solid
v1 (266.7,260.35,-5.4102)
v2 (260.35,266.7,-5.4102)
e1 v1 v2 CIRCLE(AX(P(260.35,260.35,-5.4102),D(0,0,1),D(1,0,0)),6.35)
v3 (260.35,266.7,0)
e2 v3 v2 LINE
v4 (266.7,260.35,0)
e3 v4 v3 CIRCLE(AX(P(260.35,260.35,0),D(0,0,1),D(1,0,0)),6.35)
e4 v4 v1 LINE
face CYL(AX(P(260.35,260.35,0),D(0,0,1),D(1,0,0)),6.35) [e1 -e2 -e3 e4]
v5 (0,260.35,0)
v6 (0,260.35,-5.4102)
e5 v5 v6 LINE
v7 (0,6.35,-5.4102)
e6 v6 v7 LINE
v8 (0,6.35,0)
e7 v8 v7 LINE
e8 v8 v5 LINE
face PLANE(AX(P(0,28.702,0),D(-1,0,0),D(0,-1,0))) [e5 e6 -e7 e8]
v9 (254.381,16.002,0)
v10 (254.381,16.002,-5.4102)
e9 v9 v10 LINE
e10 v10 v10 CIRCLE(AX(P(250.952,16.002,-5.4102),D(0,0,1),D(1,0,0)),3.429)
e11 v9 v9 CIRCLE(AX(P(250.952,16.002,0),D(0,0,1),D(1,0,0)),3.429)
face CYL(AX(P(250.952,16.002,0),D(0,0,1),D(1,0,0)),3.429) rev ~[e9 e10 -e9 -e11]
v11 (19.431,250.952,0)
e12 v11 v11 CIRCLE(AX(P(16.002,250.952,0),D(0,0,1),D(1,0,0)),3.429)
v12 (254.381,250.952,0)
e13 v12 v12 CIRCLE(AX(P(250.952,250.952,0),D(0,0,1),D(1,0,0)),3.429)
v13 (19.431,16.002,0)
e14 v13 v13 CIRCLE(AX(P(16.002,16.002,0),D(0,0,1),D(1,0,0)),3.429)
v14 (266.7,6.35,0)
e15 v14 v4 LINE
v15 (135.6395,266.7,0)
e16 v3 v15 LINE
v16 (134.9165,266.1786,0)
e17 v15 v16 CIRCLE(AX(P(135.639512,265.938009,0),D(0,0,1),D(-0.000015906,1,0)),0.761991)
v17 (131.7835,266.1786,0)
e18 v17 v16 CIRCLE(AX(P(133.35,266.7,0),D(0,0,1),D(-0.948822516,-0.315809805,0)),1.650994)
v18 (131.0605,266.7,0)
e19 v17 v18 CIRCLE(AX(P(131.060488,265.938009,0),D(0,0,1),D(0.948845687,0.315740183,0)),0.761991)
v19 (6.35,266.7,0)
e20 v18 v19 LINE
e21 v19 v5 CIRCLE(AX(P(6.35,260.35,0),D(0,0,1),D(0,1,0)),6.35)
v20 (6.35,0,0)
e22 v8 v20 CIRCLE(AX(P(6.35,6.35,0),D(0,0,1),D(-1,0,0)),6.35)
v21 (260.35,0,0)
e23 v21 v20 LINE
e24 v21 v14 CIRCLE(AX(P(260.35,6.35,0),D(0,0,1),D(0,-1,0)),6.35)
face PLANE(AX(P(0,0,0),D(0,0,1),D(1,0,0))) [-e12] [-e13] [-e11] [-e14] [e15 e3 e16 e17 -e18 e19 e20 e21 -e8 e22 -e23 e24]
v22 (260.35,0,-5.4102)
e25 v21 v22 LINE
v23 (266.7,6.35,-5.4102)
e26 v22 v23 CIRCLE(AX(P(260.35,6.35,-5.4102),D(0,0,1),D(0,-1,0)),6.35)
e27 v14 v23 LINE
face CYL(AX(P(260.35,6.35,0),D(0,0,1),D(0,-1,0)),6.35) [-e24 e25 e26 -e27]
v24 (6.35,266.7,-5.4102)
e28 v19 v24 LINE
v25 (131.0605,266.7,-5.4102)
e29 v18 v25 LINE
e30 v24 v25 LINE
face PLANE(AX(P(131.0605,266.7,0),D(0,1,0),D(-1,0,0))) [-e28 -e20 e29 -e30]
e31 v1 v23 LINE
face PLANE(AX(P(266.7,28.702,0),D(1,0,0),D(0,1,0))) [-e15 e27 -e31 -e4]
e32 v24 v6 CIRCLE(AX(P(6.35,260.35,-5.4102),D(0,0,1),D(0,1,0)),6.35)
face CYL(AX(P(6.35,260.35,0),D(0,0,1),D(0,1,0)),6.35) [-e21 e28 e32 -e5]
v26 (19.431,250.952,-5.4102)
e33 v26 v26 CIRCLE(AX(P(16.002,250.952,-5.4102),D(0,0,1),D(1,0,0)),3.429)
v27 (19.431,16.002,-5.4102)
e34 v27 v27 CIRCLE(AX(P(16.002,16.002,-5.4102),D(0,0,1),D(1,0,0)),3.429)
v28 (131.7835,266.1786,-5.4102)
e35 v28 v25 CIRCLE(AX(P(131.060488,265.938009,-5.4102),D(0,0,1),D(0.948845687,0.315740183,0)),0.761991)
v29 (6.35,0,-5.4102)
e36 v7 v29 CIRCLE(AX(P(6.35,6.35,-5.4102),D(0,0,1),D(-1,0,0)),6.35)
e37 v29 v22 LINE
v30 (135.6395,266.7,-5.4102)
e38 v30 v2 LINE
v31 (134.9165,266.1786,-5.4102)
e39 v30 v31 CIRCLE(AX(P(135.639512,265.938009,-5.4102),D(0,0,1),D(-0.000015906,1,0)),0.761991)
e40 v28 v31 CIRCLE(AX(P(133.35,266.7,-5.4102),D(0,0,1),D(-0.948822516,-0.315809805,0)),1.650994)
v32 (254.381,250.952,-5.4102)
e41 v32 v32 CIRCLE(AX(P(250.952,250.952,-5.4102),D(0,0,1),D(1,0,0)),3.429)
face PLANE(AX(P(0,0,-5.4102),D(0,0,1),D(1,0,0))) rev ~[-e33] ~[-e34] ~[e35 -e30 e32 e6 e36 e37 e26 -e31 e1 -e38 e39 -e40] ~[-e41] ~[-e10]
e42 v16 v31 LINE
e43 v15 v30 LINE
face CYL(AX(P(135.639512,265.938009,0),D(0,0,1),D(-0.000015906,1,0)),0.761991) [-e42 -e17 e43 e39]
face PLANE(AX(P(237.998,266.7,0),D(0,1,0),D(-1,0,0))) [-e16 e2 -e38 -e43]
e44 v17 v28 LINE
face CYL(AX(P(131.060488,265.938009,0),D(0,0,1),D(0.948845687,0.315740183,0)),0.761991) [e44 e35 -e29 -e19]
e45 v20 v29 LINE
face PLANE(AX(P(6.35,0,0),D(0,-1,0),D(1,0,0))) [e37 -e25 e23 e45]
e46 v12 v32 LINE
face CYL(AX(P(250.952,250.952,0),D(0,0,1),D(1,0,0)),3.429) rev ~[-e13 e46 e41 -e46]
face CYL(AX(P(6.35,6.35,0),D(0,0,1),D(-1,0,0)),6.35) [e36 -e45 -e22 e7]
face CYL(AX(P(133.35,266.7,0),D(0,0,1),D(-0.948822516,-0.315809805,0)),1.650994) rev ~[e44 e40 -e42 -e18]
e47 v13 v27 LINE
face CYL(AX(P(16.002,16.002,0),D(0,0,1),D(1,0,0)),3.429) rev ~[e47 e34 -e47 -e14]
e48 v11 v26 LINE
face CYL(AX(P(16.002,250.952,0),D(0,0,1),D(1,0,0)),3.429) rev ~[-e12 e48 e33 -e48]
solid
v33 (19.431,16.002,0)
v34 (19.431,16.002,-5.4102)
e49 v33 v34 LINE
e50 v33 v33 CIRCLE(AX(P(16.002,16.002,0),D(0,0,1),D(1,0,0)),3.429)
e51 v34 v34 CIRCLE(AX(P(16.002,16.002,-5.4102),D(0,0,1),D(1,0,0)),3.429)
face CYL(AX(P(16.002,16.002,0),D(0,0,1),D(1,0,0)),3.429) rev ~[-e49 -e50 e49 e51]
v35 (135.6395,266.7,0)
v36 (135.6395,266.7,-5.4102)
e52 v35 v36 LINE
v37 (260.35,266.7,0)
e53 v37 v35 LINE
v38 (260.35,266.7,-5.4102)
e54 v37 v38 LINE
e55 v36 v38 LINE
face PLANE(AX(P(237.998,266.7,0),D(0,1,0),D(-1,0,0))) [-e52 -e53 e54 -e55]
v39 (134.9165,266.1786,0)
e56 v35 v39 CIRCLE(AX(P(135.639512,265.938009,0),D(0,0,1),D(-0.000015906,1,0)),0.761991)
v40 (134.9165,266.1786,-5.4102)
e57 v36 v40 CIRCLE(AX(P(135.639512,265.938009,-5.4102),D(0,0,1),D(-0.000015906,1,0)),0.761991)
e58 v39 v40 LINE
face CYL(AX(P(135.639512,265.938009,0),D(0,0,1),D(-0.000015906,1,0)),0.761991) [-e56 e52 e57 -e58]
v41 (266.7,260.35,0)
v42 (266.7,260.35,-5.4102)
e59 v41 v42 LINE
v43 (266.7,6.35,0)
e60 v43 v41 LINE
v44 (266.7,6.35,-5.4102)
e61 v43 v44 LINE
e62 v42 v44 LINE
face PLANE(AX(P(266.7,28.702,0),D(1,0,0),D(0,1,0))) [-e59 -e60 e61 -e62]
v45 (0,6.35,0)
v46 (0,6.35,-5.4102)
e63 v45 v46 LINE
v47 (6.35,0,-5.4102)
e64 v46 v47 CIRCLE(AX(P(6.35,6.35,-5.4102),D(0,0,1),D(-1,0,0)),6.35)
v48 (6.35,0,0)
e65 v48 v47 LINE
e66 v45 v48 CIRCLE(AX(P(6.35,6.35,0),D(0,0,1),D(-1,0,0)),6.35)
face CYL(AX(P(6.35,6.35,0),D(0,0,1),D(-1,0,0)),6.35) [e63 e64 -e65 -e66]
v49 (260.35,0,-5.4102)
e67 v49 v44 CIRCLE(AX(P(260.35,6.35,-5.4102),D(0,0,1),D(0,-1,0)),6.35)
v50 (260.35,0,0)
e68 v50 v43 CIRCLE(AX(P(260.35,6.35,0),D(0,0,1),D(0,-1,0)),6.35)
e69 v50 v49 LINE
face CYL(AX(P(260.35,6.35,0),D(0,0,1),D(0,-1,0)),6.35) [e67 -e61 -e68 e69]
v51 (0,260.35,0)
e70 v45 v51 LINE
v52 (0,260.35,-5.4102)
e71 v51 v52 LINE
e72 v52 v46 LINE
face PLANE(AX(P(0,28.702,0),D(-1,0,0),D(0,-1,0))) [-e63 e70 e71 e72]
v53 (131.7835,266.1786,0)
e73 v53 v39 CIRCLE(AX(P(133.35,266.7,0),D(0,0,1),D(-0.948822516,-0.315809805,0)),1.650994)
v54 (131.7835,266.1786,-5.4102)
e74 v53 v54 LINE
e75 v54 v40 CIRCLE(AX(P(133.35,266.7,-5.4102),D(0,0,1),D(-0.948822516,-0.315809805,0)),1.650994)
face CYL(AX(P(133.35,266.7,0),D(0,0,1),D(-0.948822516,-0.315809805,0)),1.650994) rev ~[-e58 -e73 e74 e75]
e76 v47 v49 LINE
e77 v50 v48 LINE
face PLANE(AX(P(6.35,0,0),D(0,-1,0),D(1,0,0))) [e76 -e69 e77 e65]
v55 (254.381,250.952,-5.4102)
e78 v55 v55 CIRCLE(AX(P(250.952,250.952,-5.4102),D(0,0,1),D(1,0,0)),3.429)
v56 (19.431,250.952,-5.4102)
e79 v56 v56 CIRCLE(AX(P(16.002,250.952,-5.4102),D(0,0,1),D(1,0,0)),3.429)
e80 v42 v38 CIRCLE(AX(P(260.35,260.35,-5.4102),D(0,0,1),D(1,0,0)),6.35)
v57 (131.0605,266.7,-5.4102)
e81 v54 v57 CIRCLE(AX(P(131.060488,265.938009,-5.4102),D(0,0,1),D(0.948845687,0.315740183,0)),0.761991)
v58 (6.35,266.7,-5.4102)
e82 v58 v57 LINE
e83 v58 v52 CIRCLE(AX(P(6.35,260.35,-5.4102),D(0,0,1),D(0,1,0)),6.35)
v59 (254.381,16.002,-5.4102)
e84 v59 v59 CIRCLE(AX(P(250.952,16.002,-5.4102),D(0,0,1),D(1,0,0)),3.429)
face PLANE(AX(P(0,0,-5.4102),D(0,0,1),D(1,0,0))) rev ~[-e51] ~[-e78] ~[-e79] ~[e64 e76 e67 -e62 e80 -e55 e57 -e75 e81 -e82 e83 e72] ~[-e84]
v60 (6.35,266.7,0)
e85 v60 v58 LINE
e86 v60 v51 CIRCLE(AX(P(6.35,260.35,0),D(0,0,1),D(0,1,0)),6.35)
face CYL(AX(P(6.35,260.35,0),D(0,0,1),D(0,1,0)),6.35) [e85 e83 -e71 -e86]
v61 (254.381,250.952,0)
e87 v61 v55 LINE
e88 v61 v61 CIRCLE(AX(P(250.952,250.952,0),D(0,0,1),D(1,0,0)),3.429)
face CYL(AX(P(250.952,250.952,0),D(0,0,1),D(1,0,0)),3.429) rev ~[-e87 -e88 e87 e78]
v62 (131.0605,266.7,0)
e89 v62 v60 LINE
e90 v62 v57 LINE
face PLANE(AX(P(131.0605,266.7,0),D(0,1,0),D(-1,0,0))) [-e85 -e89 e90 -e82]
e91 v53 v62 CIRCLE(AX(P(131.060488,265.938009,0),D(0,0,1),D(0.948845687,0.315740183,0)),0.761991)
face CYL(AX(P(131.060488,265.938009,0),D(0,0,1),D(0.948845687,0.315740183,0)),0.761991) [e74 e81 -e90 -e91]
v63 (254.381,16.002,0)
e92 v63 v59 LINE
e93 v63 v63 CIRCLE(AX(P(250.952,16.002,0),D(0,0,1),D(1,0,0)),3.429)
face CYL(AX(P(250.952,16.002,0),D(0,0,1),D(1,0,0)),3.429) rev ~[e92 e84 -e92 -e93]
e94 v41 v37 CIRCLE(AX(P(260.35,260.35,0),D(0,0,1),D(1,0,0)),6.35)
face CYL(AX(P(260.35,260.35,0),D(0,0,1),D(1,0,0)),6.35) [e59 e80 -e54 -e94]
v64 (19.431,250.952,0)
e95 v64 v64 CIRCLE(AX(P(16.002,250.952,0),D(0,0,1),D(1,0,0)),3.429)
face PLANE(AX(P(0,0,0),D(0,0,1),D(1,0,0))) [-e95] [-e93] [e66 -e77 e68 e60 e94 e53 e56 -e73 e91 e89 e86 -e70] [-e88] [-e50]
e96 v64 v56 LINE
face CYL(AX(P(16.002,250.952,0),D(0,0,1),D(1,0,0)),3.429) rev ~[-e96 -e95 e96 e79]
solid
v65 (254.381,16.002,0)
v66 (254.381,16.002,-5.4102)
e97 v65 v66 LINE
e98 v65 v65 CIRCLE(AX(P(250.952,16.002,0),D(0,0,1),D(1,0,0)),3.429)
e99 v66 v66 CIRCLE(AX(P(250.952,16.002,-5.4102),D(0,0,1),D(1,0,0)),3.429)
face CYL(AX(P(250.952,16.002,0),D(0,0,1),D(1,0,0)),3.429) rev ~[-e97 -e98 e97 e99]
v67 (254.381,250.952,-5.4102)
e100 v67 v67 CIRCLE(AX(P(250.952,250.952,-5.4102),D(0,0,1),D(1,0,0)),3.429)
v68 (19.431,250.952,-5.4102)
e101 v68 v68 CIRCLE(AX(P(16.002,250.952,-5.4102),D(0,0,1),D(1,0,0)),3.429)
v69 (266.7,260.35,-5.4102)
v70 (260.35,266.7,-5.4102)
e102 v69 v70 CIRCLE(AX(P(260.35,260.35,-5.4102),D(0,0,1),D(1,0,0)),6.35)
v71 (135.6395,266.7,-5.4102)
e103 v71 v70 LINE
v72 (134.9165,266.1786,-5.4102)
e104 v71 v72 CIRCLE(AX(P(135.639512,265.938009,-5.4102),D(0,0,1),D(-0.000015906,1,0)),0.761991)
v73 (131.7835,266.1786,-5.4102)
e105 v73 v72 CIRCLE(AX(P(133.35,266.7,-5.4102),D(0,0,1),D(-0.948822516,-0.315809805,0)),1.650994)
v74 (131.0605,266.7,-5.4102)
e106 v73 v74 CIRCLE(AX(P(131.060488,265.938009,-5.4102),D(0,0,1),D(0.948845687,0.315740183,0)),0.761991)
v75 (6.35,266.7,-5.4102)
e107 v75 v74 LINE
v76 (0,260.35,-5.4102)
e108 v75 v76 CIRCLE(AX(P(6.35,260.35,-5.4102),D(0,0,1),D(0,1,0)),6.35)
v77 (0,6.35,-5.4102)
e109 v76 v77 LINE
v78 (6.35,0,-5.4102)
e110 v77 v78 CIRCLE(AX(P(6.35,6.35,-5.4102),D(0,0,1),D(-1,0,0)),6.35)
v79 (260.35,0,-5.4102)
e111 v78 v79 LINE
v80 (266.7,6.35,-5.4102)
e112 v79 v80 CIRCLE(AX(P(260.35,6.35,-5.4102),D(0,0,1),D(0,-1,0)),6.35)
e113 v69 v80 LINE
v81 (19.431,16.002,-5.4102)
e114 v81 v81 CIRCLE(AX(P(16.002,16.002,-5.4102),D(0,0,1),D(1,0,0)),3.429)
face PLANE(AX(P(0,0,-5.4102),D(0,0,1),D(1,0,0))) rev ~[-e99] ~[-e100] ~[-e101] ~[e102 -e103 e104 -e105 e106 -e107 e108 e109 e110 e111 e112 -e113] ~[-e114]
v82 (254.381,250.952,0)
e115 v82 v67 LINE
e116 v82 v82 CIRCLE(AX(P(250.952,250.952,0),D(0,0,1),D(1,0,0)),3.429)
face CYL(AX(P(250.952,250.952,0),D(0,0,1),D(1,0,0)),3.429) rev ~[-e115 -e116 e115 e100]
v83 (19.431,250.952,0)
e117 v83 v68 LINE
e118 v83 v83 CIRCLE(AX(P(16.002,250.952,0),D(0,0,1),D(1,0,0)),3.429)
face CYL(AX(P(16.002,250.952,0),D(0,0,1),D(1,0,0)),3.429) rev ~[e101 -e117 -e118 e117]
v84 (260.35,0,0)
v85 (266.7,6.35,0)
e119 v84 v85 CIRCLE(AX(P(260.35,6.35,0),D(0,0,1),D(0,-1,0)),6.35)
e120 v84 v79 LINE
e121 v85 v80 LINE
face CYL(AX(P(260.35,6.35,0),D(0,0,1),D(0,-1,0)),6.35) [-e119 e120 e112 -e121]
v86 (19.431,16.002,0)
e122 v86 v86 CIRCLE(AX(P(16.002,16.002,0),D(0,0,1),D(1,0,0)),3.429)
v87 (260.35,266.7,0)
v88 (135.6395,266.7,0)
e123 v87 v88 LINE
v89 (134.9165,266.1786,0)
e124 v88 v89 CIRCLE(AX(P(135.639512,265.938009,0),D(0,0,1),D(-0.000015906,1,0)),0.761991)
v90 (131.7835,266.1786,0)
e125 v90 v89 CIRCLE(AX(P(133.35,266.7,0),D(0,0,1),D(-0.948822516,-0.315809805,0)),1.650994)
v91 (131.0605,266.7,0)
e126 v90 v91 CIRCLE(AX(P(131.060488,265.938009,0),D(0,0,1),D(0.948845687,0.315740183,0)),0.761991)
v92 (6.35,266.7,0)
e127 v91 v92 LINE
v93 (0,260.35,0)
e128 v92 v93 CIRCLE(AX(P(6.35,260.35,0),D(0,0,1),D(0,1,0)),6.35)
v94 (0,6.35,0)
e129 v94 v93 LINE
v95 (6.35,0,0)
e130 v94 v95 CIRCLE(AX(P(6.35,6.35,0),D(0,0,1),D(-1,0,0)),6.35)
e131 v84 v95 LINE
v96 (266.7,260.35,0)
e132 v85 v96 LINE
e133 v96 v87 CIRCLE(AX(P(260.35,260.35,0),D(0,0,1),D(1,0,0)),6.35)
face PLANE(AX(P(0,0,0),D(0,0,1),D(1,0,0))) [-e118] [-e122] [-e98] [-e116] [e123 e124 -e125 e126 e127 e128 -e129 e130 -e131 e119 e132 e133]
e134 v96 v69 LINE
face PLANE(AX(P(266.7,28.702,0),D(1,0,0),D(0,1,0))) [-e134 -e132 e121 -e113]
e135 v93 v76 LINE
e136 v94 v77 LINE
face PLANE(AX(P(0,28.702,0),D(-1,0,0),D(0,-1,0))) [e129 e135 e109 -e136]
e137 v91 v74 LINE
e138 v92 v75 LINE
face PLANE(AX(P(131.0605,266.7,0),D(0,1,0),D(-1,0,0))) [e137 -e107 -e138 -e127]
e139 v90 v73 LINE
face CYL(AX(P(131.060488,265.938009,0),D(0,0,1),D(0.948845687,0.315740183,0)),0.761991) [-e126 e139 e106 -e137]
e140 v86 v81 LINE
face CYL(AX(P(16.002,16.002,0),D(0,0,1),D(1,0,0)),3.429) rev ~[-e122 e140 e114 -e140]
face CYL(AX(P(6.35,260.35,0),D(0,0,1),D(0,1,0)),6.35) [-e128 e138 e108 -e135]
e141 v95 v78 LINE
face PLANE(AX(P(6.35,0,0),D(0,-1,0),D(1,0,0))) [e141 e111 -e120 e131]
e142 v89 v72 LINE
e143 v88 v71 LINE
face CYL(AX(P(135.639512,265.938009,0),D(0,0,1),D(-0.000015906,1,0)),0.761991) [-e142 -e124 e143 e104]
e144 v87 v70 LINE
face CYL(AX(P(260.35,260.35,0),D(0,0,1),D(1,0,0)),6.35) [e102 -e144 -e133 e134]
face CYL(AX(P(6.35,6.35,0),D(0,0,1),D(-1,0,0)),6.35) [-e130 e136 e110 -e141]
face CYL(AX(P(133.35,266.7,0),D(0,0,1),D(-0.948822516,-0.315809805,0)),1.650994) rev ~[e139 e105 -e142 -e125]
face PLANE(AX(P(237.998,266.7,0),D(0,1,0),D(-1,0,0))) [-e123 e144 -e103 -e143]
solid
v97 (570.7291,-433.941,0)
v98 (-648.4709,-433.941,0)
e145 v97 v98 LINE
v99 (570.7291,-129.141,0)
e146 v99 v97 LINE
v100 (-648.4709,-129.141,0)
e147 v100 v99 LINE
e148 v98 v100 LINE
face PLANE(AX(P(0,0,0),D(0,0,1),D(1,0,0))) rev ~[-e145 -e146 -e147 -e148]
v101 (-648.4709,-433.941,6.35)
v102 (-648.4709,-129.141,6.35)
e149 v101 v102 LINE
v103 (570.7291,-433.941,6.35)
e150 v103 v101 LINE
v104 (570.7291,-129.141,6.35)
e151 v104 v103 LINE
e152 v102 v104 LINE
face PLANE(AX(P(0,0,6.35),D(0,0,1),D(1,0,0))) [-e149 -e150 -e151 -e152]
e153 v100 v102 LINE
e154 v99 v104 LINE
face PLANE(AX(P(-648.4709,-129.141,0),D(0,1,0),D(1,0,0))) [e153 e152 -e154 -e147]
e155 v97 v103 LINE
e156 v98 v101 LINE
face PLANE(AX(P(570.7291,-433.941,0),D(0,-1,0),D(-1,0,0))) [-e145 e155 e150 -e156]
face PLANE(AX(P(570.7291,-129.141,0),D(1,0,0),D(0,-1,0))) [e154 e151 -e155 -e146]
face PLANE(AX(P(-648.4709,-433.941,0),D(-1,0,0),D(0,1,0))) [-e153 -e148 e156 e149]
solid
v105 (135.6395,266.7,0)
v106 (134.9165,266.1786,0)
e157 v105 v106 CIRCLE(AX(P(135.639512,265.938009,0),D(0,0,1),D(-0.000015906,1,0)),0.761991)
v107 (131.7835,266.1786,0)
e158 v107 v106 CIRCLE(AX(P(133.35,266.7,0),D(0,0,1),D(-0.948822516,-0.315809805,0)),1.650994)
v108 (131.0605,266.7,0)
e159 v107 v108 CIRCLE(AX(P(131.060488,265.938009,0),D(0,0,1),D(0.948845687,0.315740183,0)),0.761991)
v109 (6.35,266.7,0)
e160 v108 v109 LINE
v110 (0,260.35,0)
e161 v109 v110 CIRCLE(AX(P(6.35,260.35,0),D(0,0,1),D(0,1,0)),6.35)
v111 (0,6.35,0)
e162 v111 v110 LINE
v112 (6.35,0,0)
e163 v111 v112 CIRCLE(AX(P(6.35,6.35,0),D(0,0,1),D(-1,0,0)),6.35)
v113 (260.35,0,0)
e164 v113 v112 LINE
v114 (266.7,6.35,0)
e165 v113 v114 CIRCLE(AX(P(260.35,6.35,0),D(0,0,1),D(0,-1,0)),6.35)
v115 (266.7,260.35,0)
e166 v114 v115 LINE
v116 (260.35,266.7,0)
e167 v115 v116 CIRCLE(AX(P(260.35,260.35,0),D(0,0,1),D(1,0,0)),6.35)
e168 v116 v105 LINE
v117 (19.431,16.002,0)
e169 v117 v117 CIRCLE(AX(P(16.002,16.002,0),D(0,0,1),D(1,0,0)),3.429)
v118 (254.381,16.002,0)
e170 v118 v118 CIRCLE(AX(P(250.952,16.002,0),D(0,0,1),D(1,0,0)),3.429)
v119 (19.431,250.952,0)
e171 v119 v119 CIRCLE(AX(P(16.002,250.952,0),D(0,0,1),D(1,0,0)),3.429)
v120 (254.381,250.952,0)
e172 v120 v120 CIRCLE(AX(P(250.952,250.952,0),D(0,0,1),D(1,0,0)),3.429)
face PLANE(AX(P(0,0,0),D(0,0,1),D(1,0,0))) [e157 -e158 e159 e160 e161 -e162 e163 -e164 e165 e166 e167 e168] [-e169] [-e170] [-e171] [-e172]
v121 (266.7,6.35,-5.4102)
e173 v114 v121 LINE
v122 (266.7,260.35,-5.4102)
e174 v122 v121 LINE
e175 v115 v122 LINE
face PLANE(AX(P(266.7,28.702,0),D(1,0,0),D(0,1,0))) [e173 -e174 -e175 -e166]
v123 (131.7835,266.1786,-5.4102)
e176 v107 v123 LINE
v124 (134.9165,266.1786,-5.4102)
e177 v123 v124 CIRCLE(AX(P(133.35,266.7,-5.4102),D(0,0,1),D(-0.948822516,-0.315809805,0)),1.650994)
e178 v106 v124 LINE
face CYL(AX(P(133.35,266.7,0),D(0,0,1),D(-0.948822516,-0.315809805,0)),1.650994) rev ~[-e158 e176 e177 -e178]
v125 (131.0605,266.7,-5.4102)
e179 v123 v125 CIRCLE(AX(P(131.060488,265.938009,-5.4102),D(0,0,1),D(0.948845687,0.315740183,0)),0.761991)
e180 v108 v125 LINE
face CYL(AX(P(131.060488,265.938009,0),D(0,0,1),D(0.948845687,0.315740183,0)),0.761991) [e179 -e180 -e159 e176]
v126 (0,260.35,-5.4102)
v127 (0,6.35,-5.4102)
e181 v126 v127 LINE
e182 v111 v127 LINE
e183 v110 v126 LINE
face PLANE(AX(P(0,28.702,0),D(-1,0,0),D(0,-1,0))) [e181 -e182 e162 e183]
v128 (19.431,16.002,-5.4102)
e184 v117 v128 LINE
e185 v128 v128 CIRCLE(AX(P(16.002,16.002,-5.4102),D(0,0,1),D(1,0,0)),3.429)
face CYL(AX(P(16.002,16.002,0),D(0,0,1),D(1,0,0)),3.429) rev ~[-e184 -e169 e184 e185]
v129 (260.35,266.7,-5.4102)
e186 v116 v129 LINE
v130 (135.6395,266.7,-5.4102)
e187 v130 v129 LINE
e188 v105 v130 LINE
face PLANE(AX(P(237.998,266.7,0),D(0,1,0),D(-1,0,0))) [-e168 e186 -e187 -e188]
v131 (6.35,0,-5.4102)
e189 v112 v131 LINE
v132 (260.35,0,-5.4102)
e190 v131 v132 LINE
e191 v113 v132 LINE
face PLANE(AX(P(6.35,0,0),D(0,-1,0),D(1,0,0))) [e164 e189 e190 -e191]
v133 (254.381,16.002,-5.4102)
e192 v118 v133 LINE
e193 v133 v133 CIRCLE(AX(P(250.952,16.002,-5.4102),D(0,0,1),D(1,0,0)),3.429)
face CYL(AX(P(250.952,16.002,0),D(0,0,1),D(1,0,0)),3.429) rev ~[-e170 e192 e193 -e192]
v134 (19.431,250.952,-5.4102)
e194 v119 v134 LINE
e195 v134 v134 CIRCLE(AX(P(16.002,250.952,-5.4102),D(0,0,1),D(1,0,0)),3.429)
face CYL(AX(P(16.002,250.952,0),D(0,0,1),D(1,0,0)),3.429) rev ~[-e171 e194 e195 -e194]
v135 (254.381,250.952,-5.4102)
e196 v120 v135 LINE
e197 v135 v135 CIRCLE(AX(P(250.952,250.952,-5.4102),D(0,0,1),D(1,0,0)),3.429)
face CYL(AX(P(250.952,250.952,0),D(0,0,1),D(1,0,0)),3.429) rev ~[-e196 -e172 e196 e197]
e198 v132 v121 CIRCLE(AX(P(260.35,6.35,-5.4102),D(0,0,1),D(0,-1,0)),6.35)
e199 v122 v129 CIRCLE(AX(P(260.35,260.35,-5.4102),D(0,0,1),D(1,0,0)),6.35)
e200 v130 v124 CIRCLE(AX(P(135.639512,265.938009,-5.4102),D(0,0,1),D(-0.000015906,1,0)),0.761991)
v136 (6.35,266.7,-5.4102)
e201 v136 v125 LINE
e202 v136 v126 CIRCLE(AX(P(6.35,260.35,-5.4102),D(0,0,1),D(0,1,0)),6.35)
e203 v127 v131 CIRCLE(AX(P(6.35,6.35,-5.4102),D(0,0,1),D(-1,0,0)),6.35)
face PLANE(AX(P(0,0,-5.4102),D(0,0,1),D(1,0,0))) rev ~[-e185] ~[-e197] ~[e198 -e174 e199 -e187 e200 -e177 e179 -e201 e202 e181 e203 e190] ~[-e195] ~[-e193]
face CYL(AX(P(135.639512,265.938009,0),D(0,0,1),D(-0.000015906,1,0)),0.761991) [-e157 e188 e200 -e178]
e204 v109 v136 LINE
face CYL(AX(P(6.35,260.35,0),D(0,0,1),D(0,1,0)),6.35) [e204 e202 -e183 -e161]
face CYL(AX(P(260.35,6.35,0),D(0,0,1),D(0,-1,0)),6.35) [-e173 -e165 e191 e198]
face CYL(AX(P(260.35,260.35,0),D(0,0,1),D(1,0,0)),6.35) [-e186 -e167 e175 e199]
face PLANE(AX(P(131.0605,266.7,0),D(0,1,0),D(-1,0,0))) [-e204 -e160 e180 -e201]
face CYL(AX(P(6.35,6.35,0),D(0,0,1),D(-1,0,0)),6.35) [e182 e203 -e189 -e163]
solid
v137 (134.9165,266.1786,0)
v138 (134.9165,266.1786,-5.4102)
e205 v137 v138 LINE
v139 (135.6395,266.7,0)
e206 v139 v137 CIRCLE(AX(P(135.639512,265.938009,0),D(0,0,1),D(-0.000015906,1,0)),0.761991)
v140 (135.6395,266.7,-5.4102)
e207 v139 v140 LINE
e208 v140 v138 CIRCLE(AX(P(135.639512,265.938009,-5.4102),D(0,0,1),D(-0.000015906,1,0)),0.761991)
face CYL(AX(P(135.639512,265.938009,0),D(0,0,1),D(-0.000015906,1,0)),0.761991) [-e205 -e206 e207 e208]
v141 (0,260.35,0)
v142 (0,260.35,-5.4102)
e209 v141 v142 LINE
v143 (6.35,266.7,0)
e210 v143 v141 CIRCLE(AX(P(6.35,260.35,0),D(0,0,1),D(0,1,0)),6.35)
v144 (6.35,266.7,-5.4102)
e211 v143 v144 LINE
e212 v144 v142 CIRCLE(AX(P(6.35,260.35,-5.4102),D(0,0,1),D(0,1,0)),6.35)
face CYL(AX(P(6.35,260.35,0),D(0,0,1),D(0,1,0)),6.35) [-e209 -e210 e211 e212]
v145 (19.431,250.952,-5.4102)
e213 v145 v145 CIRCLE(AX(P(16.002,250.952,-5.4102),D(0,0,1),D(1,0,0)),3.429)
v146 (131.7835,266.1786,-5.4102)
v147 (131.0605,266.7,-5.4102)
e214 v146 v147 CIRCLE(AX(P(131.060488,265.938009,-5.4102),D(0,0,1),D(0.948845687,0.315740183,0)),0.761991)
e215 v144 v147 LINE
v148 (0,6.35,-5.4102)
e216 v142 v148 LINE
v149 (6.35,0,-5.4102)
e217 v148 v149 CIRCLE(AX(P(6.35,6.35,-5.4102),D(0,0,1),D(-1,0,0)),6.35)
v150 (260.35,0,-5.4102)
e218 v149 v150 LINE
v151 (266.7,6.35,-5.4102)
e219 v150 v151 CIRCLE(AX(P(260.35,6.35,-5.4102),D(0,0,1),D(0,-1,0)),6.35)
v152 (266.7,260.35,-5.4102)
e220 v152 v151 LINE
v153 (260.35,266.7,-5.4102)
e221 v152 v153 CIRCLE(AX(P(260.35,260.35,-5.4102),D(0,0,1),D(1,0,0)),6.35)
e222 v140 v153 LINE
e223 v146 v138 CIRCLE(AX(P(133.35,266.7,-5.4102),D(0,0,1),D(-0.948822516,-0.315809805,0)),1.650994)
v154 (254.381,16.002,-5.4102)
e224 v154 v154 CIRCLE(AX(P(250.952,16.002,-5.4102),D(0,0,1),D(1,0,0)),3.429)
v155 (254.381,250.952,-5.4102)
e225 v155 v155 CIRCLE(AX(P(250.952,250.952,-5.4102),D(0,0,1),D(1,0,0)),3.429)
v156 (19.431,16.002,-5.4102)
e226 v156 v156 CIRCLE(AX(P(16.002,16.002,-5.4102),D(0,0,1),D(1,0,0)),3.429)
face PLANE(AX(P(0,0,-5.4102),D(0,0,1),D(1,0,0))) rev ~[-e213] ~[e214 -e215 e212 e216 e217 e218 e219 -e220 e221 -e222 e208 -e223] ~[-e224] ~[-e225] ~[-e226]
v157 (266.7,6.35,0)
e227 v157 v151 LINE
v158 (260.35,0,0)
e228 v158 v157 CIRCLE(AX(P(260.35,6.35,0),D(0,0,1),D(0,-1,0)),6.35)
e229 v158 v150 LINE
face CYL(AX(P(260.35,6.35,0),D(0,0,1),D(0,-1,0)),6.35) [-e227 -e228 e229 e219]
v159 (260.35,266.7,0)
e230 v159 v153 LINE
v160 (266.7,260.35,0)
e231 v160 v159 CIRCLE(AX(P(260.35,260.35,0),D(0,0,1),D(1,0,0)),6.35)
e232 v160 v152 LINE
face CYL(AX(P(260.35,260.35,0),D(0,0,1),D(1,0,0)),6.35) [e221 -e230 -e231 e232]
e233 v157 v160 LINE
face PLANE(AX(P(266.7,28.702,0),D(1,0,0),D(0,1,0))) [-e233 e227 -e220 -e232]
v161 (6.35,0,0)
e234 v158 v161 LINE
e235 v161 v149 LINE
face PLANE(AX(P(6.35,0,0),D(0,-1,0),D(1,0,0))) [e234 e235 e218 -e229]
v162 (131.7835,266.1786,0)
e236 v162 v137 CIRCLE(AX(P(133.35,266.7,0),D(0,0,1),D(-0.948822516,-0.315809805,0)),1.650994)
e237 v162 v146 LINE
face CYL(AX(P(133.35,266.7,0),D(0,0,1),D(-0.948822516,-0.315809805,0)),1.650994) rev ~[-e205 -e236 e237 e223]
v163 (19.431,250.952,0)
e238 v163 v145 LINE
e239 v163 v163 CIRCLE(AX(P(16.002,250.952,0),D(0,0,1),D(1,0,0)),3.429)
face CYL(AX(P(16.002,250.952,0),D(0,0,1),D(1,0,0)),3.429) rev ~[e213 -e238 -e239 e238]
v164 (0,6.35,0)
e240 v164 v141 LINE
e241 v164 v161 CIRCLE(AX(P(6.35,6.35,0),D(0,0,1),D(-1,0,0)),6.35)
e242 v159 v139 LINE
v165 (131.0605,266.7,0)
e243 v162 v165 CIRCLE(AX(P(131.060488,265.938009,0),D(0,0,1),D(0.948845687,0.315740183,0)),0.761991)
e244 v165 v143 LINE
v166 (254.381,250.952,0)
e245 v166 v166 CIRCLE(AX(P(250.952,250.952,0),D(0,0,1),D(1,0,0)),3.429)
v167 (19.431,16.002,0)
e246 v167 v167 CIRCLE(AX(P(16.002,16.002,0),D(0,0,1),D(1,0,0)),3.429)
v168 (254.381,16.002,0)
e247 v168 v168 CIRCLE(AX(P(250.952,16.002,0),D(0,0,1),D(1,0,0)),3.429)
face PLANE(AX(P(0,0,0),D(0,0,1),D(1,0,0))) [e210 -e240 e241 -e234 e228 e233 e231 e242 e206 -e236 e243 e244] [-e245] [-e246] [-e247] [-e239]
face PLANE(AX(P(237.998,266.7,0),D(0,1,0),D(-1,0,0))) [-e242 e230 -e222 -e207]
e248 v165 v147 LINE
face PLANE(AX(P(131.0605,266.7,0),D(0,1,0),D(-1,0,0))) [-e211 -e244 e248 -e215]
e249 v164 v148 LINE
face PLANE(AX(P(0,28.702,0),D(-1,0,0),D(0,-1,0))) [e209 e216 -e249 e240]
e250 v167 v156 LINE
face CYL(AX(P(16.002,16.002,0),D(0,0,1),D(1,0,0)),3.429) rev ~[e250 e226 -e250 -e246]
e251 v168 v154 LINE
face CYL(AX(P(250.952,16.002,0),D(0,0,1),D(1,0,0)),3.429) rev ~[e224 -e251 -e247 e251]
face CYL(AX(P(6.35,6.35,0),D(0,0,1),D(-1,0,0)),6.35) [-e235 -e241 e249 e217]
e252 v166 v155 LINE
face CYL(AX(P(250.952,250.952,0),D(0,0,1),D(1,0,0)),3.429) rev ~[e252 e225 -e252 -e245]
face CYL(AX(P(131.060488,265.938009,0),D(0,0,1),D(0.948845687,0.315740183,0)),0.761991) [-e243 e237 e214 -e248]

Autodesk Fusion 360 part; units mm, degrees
sketch "Sketch1" plane through (0, 0, 0) normal (0, 0, 1) x (1, 0, 0)
  line L0 (6.35, 0) -> (260.35, 0)
  line L1 (266.7, 6.35) -> (266.7, 260.35)
  line L2 (0, 260.35) -> (0, 6.35)
  arc A0 (6.35, 266.7) -> (0, 260.35) centre (6.35, 260.35) ccw
  arc A1 (266.7, 260.35) -> (260.35, 266.7) centre (260.35, 260.35) ccw
  arc A2 (260.35, 0) -> (266.7, 6.35) centre (260.35, 6.35) ccw
  arc A3 (0, 6.35) -> (6.35, 0) centre (6.35, 6.35) ccw
  line L3 (0, 16.002) -> (266.7, 16.002) construction
  line L4 (16.002, 0) -> (16.002, 266.7) construction
  line L5 (0, 250.952) -> (266.7, 250.952) construction
  line L6 (250.952, 0) -> (250.952, 266.7) construction
  circle A4 centre (16.002, 250.952) radius 3.429
  circle A5 centre (250.952, 250.952) radius 3.429
  circle A6 centre (250.952, 16.002) radius 3.429
  circle A7 centre (16.002, 16.002) radius 3.429
  arc A8 (131.7835, 266.1786) -> (131.0605, 266.7) centre (131.0605, 265.938) ccw
  arc A9 (135.6395, 266.7) -> (134.9165, 266.1786) centre (135.6395, 265.938) ccw
  arc A10 (131.7835, 266.1786) -> (134.9165, 266.1786) centre (133.35, 266.7) ccw
  line L7 (260.35, 266.7) -> (135.6395, 266.7)
  line L8 (131.0605, 266.7) -> (6.35, 266.7)
  line L9 (237.998, 0) -> (237.998, 16.002)
  line L10 (250.698, 28.702) -> (266.7, 28.702)
  arc A11 (250.698, 28.702) -> (237.998, 16.002) centre (250.698, 16.002) ccw
  line L11 (28.702, 0) -> (28.702, 16.002)
  line L12 (16.002, 28.702) -> (0, 28.702)
  line L13 (28.702, 266.7) -> (28.702, 250.698)
  line L14 (16.002, 237.998) -> (0, 237.998)
  line L15 (237.998, 266.7) -> (237.998, 250.698)
  line L16 (250.698, 237.998) -> (266.7, 237.998)
  arc A12 (28.702, 16.002) -> (16.002, 28.702) centre (16.002, 16.002) ccw
  arc A13 (16.002, 237.998) -> (28.702, 250.698) centre (16.002, 250.698) ccw
  arc A14 (237.998, 250.698) -> (250.698, 237.998) centre (250.698, 250.698) ccw
  point P0 (266.7, 0)
  point P1 (0, 266.7)
  dimension "d1" = 266.7
  dimension "d2" = 266.7
  dimension "d3" = 6.35
  dimension "d4" = 16.002
  dimension "d5" = 250.952
  dimension "d6" = 16.002
  dimension "d7" = 250.952
  dimension "d8" = 6.858
  dimension "d9" = 3.302
  dimension "d10" = 1.524
  dimension "d11" = 1.524
  dimension "d12" = 28.702
  dimension "d13" = 28.702
  dimension "d14" = 12.7
  dimension "d15" = 12.7
  dimension "d16" = 28.702
  dimension "d17" = 28.702
  dimension "d18" = 28.702
  dimension "d19" = 28.702
  dimension "d20" = 28.702
  dimension "d21" = 28.702
extrude "Extrude1" add sketch "Sketch1" against normal blind 5.4102 makes body 1
copy_body "Body->Comp1" bodies 1 removing the originals makes body 2 in component "backer"
sketch "Sketch2" plane through (0, 0, 0) normal (0, 0, 1) x (1, 0, 0)
  line L0 (-648.4709, -129.141) -> (570.7291, -129.141)
  line L1 (570.7291, -129.141) -> (570.7291, -433.941)
  line L2 (570.7291, -433.941) -> (-648.4709, -433.941)
  line L3 (-648.4709, -433.941) -> (-648.4709, -129.141)
  dimension "d24" = 1219.2
  dimension "d25" = 304.8
extrude "Extrude2" add sketch "Sketch2" along normal blind 6.35 separate body makes body 3
copy_body "Body->Comp2" bodies 3 removing the originals makes body 4 in component "cnc"
component "backer" placed x (1, 0, 0) y (0, 1, 0) z (0, 0, 1) at (0, 0, 0)
component "cnc" placed x (1, 0, 0) y (0, 1, 0) z (0, 0, 1) at (0, 0, 0)
component "backer" placed x (1, 0, 0) y (0, 1, 0) z (0, 0, 1) at (0, 0, 0) in component "cnc"
component "backer" placed x (1, 0, 0) y (0, 1, 0) z (0, 0, 1) at (0, 0, 0) in component "cnc"
component "backer" placed x (1, 0, 0) y (0, 1, 0) z (0, 0, 1) at (0, 0, 0) in component "cnc"
component "backer" placed x (1, 0, 0) y (0, 1, 0) z (0, 0, 1) at (0, 0, 0) in component "cnc"
equation "d6 = d4"
equation "d7 = d5"
equation "d13 = d12"
equation "d16 = d12"
equation "d17 = d13"
equation "d18 = d16"
equation "d19 = d18"
equation "d20 = d18"
equation "d21 = d20"
